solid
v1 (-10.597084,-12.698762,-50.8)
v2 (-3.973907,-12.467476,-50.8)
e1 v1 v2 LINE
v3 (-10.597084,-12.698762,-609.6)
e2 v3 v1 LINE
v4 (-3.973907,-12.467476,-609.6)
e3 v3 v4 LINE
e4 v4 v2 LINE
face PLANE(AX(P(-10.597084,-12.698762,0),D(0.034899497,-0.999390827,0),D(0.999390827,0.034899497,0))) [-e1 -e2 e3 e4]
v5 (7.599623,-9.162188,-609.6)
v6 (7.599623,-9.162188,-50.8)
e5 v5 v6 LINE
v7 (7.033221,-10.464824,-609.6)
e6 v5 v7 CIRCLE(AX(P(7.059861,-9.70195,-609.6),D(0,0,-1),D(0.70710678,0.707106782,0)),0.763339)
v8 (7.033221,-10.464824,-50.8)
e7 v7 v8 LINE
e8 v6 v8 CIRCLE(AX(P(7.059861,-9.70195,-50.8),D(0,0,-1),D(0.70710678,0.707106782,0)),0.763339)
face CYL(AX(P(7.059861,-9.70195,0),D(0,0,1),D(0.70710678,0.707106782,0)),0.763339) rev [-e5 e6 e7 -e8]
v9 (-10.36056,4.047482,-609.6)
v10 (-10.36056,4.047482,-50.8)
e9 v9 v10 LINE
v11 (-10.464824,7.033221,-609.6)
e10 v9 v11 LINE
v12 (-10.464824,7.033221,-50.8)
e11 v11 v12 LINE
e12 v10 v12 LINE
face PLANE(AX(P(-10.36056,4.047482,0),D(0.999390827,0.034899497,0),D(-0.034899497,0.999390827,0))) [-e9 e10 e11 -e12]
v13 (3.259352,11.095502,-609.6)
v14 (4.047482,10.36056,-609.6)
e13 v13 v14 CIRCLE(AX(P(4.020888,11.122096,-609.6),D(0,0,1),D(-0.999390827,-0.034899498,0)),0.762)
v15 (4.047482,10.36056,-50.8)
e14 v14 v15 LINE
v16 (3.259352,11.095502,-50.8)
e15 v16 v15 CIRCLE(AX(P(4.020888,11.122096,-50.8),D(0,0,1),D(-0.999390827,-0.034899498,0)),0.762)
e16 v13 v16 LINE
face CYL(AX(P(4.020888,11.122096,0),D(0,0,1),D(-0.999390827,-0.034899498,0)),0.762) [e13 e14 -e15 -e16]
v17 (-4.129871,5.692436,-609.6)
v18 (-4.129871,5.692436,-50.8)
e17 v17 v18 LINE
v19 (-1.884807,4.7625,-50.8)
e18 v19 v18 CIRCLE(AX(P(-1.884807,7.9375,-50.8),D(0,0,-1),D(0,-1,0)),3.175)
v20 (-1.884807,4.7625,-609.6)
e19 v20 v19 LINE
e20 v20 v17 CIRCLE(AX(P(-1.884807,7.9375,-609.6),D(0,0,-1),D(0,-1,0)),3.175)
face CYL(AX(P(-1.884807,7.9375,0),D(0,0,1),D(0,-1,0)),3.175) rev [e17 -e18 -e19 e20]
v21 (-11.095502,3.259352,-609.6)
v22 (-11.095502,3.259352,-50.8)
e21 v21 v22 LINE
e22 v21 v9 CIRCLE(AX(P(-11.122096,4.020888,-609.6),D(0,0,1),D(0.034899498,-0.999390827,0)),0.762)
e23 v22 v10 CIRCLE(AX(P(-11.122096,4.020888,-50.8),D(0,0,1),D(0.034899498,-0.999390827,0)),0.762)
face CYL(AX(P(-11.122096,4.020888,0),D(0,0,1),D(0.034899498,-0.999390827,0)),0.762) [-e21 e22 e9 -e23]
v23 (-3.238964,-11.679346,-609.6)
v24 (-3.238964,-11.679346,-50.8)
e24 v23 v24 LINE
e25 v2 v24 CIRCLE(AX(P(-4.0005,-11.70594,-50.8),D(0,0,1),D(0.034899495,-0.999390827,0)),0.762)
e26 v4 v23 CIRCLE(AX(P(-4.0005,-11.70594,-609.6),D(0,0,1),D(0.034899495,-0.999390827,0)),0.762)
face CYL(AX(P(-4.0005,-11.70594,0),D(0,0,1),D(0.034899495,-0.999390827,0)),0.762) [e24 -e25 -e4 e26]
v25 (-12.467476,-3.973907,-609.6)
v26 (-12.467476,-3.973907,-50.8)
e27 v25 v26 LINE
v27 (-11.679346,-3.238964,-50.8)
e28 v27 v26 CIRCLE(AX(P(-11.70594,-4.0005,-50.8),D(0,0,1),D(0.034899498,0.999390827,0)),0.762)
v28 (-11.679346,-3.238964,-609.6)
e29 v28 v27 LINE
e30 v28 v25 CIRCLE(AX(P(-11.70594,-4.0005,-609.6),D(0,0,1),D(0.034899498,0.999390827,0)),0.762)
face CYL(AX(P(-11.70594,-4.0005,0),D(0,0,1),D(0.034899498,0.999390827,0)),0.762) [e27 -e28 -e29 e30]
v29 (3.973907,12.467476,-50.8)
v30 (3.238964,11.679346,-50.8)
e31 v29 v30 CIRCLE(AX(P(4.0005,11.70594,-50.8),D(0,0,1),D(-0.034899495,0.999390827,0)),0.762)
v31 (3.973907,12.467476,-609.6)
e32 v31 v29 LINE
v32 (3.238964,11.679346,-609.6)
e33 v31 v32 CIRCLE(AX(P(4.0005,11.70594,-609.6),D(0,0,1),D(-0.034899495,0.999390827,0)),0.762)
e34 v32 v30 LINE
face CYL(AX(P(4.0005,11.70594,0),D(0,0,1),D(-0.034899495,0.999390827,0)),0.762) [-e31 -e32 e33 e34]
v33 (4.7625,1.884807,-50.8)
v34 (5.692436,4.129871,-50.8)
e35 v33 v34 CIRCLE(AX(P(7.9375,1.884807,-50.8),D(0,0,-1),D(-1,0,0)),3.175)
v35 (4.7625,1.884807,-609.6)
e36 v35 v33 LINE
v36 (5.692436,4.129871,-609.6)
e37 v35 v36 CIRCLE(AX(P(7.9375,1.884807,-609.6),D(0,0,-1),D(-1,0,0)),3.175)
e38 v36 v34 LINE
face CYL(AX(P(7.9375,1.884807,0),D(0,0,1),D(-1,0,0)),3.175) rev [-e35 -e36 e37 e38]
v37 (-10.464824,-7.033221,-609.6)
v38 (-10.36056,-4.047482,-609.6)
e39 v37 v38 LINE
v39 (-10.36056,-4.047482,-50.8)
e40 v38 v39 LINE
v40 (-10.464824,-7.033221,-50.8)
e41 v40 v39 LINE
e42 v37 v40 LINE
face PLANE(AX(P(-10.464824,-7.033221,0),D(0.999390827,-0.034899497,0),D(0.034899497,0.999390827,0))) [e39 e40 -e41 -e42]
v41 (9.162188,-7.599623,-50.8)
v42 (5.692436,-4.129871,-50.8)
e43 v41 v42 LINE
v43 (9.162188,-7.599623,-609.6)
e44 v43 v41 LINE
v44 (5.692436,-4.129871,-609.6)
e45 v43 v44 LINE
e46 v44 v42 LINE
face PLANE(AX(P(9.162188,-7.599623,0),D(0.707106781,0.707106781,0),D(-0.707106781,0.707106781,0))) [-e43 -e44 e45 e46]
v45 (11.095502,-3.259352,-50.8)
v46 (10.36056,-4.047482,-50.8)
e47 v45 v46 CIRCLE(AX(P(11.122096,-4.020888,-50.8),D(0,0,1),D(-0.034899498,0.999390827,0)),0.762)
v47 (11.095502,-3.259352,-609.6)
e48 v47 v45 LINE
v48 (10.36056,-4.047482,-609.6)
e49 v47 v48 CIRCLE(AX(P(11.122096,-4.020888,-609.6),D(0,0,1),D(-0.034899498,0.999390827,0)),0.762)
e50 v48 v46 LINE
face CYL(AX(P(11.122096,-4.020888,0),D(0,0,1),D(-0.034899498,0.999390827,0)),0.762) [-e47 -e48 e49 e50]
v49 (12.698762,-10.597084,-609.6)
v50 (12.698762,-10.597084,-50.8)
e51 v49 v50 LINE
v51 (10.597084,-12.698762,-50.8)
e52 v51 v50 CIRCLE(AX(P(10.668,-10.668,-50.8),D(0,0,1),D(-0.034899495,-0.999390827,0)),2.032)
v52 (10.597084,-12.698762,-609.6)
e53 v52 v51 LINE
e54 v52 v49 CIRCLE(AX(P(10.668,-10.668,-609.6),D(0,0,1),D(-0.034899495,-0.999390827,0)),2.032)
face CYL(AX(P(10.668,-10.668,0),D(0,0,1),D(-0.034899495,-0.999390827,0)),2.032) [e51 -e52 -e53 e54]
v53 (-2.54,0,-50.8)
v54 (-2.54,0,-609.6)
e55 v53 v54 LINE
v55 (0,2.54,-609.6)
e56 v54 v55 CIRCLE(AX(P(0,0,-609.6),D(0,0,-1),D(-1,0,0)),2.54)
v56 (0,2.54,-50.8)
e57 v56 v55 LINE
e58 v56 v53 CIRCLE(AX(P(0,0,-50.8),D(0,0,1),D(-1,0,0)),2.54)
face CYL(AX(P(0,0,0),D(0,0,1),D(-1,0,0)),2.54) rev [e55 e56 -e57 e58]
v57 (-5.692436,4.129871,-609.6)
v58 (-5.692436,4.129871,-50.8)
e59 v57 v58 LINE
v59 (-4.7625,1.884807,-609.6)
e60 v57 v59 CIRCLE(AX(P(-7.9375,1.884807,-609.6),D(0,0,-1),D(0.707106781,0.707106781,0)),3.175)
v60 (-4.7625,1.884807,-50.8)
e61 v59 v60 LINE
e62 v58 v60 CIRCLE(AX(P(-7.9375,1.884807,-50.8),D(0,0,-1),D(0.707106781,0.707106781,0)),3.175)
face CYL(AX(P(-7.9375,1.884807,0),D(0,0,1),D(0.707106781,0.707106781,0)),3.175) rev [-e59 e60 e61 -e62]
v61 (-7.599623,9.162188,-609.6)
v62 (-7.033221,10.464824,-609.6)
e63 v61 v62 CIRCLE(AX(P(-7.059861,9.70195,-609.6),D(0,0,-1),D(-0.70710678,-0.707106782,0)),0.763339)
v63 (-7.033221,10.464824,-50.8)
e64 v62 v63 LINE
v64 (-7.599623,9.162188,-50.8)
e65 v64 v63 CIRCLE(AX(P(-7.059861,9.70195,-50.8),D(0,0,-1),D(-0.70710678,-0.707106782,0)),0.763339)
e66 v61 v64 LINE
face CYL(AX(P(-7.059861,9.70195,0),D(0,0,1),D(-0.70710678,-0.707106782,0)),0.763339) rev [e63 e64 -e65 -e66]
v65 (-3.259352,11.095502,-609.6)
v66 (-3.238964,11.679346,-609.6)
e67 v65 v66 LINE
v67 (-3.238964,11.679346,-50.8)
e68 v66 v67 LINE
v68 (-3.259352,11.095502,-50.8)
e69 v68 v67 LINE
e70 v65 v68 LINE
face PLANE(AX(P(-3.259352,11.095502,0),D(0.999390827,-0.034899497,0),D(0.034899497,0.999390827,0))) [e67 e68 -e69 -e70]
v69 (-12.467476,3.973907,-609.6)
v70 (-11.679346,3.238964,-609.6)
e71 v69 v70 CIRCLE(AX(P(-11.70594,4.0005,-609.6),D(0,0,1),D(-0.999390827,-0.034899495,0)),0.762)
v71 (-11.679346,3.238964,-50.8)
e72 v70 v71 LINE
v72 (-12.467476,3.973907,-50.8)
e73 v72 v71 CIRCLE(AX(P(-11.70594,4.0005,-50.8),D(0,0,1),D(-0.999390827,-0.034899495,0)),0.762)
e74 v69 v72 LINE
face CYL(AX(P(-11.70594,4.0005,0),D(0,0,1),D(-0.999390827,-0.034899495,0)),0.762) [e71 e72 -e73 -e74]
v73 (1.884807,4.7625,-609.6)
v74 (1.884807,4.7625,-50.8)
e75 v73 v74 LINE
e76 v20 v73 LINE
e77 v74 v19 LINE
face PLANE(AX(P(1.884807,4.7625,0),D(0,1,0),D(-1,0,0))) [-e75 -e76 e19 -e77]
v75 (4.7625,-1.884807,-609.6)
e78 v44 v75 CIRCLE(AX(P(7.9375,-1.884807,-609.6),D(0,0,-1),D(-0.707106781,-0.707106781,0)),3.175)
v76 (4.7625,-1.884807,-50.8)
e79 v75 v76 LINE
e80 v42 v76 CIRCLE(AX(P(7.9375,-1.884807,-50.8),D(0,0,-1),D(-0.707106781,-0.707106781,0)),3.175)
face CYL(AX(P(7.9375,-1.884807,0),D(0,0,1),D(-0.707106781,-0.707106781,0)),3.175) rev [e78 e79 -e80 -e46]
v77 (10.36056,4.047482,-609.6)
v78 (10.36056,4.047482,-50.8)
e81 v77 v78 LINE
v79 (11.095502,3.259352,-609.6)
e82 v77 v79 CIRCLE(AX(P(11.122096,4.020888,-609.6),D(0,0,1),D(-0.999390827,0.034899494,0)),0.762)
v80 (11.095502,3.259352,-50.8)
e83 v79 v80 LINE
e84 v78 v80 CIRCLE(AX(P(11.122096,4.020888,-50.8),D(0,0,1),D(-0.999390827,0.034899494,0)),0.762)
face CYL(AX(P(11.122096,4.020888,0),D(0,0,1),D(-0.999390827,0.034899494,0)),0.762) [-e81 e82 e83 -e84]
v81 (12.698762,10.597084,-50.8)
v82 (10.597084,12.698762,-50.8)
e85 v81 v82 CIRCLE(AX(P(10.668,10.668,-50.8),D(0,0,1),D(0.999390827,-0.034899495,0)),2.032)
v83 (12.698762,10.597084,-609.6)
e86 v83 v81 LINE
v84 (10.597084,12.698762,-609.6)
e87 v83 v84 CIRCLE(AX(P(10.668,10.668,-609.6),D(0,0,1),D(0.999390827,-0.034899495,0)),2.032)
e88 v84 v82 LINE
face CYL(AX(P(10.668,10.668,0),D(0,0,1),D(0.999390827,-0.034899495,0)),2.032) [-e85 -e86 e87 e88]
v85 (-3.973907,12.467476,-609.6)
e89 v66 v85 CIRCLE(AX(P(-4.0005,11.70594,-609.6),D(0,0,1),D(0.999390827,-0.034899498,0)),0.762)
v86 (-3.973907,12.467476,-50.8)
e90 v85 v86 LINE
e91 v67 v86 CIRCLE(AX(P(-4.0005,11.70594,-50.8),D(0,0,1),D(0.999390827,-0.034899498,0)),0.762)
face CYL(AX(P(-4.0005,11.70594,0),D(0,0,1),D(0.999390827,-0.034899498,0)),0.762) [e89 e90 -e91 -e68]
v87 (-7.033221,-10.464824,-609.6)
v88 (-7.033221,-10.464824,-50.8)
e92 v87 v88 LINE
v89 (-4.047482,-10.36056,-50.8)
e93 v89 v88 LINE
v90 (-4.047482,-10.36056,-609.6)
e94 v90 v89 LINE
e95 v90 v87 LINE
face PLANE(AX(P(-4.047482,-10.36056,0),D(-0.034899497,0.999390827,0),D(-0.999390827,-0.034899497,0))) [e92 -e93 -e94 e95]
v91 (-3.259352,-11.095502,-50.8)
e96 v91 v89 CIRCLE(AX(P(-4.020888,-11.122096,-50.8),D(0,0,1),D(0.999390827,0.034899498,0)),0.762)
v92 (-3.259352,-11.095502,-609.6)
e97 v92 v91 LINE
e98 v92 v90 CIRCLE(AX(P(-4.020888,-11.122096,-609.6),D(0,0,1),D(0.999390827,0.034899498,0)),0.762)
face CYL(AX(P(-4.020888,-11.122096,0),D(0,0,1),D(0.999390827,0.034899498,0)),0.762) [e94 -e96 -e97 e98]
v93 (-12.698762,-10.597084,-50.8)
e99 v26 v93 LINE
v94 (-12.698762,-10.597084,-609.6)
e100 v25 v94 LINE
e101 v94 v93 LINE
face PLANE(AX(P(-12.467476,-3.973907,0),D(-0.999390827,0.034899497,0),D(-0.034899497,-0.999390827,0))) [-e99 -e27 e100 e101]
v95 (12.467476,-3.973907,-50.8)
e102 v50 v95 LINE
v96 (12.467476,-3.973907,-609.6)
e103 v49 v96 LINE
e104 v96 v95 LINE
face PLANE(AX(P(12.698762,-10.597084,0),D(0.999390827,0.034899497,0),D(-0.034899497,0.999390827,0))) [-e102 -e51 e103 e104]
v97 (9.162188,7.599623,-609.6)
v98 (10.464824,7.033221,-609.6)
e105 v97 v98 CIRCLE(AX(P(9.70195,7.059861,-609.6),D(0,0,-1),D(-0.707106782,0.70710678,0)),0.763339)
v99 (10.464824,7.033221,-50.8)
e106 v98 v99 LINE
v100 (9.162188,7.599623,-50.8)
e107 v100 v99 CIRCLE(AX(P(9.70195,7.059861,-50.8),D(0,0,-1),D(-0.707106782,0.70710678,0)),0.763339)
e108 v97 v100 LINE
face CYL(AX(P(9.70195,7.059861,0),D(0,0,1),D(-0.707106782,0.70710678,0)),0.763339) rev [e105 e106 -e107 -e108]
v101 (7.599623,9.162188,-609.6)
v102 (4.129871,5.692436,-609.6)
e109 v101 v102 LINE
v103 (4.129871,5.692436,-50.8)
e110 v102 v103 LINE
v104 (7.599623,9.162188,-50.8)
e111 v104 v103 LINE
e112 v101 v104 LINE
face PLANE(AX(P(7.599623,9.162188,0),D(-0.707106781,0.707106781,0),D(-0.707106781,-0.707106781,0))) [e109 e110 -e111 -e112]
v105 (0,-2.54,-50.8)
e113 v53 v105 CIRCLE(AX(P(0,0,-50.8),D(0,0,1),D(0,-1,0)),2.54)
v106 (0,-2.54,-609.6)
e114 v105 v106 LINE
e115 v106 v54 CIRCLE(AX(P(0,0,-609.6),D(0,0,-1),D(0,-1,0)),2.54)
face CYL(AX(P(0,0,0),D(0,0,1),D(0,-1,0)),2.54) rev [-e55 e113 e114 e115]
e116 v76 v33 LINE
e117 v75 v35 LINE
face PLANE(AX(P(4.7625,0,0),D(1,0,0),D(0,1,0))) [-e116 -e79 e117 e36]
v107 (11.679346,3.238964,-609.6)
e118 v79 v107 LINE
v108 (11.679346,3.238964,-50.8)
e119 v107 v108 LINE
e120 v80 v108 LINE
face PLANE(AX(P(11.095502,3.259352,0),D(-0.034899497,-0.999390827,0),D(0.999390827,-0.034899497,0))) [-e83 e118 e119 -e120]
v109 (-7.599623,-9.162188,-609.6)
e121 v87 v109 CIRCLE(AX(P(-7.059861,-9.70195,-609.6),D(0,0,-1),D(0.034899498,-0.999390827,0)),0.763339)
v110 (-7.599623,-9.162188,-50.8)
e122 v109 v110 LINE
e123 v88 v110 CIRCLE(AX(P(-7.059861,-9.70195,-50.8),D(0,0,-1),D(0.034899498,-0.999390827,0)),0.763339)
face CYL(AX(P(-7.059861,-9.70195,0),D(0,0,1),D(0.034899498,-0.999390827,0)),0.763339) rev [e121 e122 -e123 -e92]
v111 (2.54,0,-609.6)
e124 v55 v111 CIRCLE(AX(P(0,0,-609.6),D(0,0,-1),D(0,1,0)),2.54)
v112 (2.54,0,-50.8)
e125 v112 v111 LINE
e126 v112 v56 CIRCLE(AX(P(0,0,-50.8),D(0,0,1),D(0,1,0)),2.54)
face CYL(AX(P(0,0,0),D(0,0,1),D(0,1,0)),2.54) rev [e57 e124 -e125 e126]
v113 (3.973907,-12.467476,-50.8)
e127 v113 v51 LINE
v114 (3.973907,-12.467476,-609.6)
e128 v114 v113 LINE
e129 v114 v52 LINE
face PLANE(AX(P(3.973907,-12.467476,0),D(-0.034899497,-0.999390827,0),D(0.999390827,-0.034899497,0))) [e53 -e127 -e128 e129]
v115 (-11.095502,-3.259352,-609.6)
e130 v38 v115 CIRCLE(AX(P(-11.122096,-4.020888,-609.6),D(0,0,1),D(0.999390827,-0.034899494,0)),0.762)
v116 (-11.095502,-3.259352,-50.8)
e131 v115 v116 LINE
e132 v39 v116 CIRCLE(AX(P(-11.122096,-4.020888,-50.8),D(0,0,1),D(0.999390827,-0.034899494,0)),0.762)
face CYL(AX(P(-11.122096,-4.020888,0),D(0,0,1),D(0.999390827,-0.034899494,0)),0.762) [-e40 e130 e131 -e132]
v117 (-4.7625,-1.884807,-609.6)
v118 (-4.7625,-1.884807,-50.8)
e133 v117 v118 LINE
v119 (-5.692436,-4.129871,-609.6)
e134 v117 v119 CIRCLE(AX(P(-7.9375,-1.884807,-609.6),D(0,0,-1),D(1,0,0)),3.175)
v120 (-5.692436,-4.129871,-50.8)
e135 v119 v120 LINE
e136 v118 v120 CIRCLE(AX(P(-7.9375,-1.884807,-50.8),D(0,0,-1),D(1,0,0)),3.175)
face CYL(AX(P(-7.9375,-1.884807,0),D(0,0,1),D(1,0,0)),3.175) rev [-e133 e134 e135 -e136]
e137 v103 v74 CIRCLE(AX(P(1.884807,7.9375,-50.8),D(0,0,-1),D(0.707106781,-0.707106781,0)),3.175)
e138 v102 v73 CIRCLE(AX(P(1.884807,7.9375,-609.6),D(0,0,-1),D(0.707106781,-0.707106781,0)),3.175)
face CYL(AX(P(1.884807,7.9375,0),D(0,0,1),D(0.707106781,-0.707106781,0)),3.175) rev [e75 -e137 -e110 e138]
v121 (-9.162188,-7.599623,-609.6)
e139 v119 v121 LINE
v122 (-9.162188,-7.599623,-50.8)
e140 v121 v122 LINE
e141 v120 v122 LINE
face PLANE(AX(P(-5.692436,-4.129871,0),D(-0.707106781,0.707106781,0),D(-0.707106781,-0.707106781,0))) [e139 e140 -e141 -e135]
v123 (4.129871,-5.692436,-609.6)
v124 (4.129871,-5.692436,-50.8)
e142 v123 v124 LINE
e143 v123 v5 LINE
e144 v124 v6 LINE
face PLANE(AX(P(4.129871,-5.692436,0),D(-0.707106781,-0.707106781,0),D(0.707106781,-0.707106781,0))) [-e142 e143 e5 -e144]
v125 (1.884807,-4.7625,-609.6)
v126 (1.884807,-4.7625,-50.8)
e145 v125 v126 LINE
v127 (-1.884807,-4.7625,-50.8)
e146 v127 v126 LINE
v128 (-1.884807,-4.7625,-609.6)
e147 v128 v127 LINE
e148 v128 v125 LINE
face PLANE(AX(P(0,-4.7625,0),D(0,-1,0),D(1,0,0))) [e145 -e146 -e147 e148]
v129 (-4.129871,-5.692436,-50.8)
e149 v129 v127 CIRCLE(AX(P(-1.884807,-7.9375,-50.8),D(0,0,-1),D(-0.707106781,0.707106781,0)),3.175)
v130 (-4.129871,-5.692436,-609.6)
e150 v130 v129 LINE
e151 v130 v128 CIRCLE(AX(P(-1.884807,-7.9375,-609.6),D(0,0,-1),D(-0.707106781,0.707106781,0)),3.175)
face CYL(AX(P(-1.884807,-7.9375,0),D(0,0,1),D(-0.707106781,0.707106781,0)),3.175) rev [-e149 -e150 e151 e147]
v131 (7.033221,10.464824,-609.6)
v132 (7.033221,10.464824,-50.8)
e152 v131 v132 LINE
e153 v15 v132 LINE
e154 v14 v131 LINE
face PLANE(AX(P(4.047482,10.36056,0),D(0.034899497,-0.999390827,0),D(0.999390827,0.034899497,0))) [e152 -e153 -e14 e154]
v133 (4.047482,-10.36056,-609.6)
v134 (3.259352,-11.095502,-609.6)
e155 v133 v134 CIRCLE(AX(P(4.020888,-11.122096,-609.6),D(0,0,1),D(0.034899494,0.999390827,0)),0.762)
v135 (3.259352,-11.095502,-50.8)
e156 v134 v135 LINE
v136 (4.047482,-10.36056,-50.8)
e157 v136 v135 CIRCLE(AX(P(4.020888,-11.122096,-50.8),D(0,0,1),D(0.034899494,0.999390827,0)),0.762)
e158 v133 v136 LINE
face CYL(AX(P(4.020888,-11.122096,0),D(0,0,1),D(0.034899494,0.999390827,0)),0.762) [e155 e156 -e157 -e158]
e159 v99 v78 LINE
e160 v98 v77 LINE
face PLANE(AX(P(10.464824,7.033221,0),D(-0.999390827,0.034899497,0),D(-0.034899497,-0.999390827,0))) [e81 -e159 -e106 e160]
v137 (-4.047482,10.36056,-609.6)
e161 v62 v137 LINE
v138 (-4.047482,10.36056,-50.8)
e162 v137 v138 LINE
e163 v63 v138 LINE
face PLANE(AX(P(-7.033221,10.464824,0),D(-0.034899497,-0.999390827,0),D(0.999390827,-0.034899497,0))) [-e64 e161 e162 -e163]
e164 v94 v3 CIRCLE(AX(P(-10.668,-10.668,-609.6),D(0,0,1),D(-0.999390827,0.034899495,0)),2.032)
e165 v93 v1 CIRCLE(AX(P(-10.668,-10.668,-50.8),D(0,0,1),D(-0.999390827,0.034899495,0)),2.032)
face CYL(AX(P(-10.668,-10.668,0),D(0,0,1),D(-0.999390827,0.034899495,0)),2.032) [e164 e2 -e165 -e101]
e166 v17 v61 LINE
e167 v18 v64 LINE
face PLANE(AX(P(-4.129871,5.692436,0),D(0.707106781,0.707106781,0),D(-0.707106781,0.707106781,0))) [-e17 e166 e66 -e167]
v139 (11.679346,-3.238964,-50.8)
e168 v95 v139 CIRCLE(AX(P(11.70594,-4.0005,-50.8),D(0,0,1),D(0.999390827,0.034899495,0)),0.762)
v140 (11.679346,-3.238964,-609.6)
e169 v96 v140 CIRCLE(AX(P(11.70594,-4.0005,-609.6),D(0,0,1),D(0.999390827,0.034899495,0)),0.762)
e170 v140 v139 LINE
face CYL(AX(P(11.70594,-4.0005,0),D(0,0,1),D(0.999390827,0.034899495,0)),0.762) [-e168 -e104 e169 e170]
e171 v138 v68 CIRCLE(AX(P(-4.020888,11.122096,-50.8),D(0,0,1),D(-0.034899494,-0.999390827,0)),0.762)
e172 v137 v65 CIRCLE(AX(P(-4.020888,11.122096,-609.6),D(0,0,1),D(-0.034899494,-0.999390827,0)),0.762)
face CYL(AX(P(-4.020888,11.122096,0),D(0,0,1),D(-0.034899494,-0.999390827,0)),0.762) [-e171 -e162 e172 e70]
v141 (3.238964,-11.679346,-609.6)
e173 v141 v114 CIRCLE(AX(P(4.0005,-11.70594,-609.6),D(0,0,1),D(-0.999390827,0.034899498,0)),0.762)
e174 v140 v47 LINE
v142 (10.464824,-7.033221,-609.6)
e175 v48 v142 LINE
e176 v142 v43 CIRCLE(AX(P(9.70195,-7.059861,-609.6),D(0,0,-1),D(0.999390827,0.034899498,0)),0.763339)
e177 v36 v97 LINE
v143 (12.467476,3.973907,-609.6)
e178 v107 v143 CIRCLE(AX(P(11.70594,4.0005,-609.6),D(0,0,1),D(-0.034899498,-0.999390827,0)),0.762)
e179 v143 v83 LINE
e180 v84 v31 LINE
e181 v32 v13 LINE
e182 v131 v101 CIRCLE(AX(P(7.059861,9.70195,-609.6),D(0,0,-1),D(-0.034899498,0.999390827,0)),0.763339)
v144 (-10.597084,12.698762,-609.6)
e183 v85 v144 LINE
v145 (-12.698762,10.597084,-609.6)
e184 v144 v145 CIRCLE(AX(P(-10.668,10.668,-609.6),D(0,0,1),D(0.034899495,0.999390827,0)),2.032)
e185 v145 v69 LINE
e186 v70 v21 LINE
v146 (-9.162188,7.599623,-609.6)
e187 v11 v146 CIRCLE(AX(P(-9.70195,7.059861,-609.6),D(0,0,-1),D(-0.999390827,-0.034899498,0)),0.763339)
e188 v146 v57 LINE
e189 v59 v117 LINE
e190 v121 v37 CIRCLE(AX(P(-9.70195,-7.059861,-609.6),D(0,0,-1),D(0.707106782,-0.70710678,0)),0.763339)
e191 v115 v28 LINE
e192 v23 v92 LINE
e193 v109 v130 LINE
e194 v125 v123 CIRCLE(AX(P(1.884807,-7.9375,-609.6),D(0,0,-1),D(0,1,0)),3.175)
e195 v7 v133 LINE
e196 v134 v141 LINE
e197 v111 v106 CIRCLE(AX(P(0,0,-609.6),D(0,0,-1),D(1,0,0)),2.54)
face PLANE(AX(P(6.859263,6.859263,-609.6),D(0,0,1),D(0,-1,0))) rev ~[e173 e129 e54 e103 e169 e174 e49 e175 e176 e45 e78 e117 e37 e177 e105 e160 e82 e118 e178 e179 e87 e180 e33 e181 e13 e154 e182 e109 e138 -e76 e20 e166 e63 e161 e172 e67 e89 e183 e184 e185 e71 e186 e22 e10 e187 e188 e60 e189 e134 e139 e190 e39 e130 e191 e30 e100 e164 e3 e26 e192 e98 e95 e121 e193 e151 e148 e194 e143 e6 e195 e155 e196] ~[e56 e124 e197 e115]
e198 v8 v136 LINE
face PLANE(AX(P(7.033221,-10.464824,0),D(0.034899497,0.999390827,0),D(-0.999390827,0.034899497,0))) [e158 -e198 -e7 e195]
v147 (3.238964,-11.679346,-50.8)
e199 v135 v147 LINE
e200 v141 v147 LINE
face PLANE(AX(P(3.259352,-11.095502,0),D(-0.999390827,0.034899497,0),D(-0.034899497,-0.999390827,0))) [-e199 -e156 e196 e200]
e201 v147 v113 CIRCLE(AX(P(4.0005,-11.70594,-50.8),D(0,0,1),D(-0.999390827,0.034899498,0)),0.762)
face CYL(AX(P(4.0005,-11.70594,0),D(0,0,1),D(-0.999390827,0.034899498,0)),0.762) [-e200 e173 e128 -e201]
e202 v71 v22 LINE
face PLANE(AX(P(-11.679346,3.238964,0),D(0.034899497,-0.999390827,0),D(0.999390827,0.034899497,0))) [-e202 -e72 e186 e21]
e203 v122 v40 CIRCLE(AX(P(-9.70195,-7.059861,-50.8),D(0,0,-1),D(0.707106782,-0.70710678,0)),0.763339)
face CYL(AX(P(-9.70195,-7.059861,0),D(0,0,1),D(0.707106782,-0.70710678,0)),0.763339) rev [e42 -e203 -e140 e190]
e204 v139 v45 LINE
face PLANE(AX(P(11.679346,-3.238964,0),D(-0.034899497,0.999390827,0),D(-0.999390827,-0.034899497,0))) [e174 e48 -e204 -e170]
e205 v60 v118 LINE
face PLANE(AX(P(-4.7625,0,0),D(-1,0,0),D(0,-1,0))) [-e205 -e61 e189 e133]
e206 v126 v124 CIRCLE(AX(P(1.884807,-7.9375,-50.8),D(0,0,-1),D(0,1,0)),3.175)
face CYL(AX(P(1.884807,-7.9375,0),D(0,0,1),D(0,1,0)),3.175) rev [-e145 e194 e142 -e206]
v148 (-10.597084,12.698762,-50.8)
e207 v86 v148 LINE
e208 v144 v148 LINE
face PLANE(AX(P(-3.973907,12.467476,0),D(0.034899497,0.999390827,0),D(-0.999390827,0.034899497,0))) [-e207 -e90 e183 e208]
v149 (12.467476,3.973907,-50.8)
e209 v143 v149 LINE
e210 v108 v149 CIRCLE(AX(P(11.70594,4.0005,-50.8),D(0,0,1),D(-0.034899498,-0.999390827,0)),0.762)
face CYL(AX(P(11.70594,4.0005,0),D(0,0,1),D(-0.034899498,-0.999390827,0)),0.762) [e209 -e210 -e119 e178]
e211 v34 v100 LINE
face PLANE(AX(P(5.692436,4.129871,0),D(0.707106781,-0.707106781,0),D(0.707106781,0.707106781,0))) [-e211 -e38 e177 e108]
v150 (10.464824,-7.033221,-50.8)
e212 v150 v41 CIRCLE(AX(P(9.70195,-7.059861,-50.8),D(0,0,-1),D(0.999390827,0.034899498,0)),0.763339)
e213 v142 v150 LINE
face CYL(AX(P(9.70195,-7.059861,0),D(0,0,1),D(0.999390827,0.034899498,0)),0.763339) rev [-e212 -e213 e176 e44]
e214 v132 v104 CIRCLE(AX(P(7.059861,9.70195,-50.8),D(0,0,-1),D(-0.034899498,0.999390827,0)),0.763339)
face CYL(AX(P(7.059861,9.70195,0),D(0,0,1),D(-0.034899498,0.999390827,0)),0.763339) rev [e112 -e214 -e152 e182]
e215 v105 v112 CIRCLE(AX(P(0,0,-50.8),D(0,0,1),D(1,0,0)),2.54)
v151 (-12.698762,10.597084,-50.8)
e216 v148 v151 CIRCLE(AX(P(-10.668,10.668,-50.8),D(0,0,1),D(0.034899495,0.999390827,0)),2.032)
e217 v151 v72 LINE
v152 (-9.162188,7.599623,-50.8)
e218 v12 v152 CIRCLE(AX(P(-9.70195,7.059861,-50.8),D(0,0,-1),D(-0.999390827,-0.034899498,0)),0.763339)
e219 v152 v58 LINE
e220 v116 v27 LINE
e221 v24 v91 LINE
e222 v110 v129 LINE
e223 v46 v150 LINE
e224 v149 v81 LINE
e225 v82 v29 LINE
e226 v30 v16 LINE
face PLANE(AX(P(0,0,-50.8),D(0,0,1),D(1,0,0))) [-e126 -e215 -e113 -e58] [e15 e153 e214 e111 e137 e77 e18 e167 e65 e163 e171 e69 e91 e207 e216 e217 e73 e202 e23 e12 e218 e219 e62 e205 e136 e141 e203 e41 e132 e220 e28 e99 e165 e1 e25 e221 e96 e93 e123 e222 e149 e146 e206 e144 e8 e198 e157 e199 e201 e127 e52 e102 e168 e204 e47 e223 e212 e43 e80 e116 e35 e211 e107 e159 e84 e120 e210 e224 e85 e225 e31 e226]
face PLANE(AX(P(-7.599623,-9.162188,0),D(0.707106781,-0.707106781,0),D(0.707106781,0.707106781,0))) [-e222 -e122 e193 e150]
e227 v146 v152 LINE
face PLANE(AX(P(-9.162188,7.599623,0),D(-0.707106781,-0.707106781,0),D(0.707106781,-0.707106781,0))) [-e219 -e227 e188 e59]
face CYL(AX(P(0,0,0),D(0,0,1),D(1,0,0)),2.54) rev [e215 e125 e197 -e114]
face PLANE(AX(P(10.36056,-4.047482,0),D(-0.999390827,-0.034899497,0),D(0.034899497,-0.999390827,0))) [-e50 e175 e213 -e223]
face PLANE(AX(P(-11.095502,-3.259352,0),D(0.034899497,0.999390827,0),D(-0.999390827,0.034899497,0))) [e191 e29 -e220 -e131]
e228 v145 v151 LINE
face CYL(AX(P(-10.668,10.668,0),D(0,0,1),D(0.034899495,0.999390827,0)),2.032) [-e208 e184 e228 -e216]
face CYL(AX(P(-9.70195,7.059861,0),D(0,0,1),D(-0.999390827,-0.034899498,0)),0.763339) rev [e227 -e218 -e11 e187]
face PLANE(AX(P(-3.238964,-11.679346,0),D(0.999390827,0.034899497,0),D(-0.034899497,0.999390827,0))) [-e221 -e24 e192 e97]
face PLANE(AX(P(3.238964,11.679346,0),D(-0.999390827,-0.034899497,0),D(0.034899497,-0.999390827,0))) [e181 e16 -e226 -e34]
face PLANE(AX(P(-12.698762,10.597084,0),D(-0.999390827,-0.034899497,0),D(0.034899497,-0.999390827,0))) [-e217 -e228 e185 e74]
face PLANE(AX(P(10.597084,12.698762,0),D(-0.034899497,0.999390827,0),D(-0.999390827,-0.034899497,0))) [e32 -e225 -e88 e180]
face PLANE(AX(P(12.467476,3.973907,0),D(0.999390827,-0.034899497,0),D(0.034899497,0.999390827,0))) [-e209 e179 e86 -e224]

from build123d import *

# Parameters (mm, degrees)
BOSS_EXTRUDE1_DEPTH = 609.6
CIRPATTERN1_COUNT   = 4
CUT_EXTRUDE1_DEPTH  = 660.4


with BuildPart() as part:
    # Sketch3 → Boss-Extrude1 (new, symmetric)
    with BuildSketch(Plane.XY):
        with BuildLine():
            Line((0, 4.7625), (-1.884807374, 4.7625))
            ThreePointArc((-1.884807374, 4.7625), (-3.099827272, 5.004182484), (-4.129871405, 5.69243597))
            Line((-4.129871405, 5.69243597), (-7.599623114, 9.162187679))
            ThreePointArc((-7.599623114, 9.162187679), (-7.759888701, 10.006330839), (-7.033220609, 10.464824259))
            Line((-7.033220609, 10.464824259), (-4.047481702, 10.360559959))
            ThreePointArc((-4.047481702, 10.360559959), (-3.501205536, 10.564804249), (-3.259352476, 11.095502353))
            Line((-3.259352476, 11.095502353), (-3.23896419, 11.679346474))
            ThreePointArc((-3.23896419, 11.679346474), (-3.443208479, 12.225622641), (-3.973906584, 12.467475701))
            Line((-3.973906584, 12.467475701), (-10.597084223, 12.698762161))
            ThreePointArc((-10.597084223, 12.698762161), (-12.104840979, 12.104840979), (-12.698762161, 10.597084223))
            Line((-12.698762161, 10.597084223), (-12.467475701, 3.973906584))
            ThreePointArc((-12.467475701, 3.973906584), (-12.225622641, 3.443208479), (-11.679346474, 3.23896419))
            Line((-11.679346474, 3.23896419), (-11.095502353, 3.259352476))
            ThreePointArc((-11.095502353, 3.259352476), (-10.564804249, 3.501205536), (-10.360559959, 4.047481702))
            Line((-10.360559959, 4.047481702), (-10.464824259, 7.033220609))
            ThreePointArc((-10.464824259, 7.033220609), (-10.006330839, 7.759888701), (-9.162187679, 7.599623114))
            Line((-9.162187679, 7.599623114), (-5.69243597, 4.129871405))
            ThreePointArc((-5.69243597, 4.129871405), (-5.004182484, 3.099827272), (-4.7625, 1.884807374))
            Line((-4.7625, 1.884807374), (-4.7625, 0))
            Line((-4.7625, 0), (-2.54, 0))
            ThreePointArc((-2.54, 0), (-1.796051224, 1.796051224), (0, 2.54))
            Line((0, 2.54), (0, 4.7625))
        make_face()
    boss_extrude1 = extrude(amount=BOSS_EXTRUDE1_DEPTH, both=True)

    # CirPattern1: Boss-Extrude1 ×4 about axis
    cirpattern1_axis = Axis((0, 0, 0), (0, 0, 1))
    for i in range(1, CIRPATTERN1_COUNT):
        add(boss_extrude1.rotate(cirpattern1_axis, i * 360 / CIRPATTERN1_COUNT))

    # Sketch4 → Cut-Extrude1 (cut)
    with BuildSketch(Plane.XY.offset(609.6)):
        with BuildLine():
            Line((1.884807374, 4.7625), (-1.884807374, 4.7625))
            ThreePointArc((-1.884807374, 4.7625), (-3.099827272, 5.004182484), (-4.129871405, 5.69243597))
            Line((-4.129871405, 5.69243597), (-7.599623114, 9.162187679))
            ThreePointArc((-7.599623114, 9.162187679), (-7.759888701, 10.006330839), (-7.033220609, 10.464824259))
            Line((-7.033220609, 10.464824259), (-4.047481702, 10.360559959))
            ThreePointArc((-4.047481702, 10.360559959), (-3.501205536, 10.564804249), (-3.259352476, 11.095502353))
            Line((-3.259352476, 11.095502353), (-3.23896419, 11.679346474))
            ThreePointArc((-3.23896419, 11.679346474), (-3.443208479, 12.225622641), (-3.973906584, 12.467475701))
            Line((-3.973906584, 12.467475701), (-10.597084223, 12.698762161))
            ThreePointArc((-10.597084223, 12.698762161), (-12.104840979, 12.104840979), (-12.698762161, 10.597084223))
            Line((-12.698762161, 10.597084223), (-12.467475701, 3.973906584))
            ThreePointArc((-12.467475701, 3.973906584), (-12.225622641, 3.443208479), (-11.679346474, 3.23896419))
            Line((-11.679346474, 3.23896419), (-11.095502353, 3.259352476))
            ThreePointArc((-11.095502353, 3.259352476), (-10.564804249, 3.501205536), (-10.360559959, 4.047481702))
            Line((-10.360559959, 4.047481702), (-10.464824259, 7.033220609))
            ThreePointArc((-10.464824259, 7.033220609), (-10.006330839, 7.759888701), (-9.162187679, 7.599623114))
            Line((-9.162187679, 7.599623114), (-5.69243597, 4.129871405))
            ThreePointArc((-5.69243597, 4.129871405), (-5.004182484, 3.099827272), (-4.7625, 1.884807374))
            Line((-4.7625, 1.884807374), (-4.7625, -1.884807374))
            ThreePointArc((-4.7625, -1.884807374), (-5.004182484, -3.099827272), (-5.69243597, -4.129871405))
            Line((-5.69243597, -4.129871405), (-9.162187679, -7.599623114))
            ThreePointArc((-9.162187679, -7.599623114), (-10.006330839, -7.759888701), (-10.464824259, -7.033220609))
            Line((-10.464824259, -7.033220609), (-10.360559959, -4.047481702))
            ThreePointArc((-10.360559959, -4.047481702), (-10.564804249, -3.501205536), (-11.095502353, -3.259352476))
            Line((-11.095502353, -3.259352476), (-11.679346474, -3.23896419))
            ThreePointArc((-11.679346474, -3.23896419), (-12.225622641, -3.443208479), (-12.467475701, -3.973906584))
            Line((-12.467475701, -3.973906584), (-12.698762161, -10.597084223))
            ThreePointArc((-12.698762161, -10.597084223), (-12.104840979, -12.104840979), (-10.597084223, -12.698762161))
            Line((-10.597084223, -12.698762161), (-3.973906584, -12.467475701))
            ThreePointArc((-3.973906584, -12.467475701), (-3.443208479, -12.225622641), (-3.23896419, -11.679346474))
            Line((-3.23896419, -11.679346474), (-3.259352476, -11.095502353))
            ThreePointArc((-3.259352476, -11.095502353), (-3.501205536, -10.564804249), (-4.047481702, -10.360559959))
            Line((-4.047481702, -10.360559959), (-7.033220609, -10.464824259))
            ThreePointArc((-7.033220609, -10.464824259), (-7.759888701, -10.006330839), (-7.599623114, -9.162187679))
            Line((-7.599623114, -9.162187679), (-4.129871405, -5.69243597))
            ThreePointArc((-4.129871405, -5.69243597), (-3.099827272, -5.004182484), (-1.884807374, -4.7625))
            Line((-1.884807374, -4.7625), (1.884807374, -4.7625))
            ThreePointArc((1.884807374, -4.7625), (3.099827272, -5.004182484), (4.129871405, -5.69243597))
            Line((4.129871405, -5.69243597), (7.599623114, -9.162187679))
            ThreePointArc((7.599623114, -9.162187679), (7.759888701, -10.006330839), (7.033220609, -10.464824259))
            Line((7.033220609, -10.464824259), (4.047481702, -10.360559959))
            ThreePointArc((4.047481702, -10.360559959), (3.501205536, -10.564804249), (3.259352476, -11.095502353))
            Line((3.259352476, -11.095502353), (3.23896419, -11.679346474))
            ThreePointArc((3.23896419, -11.679346474), (3.443208479, -12.225622641), (3.973906584, -12.467475701))
            Line((3.973906584, -12.467475701), (10.597084223, -12.698762161))
            ThreePointArc((10.597084223, -12.698762161), (12.104840979, -12.104840979), (12.698762161, -10.597084223))
            Line((12.698762161, -10.597084223), (12.467475701, -3.973906584))
            ThreePointArc((12.467475701, -3.973906584), (12.225622641, -3.443208479), (11.679346474, -3.23896419))
            Line((11.679346474, -3.23896419), (11.095502353, -3.259352476))
            ThreePointArc((11.095502353, -3.259352476), (10.564804249, -3.501205536), (10.360559959, -4.047481702))
            Line((10.360559959, -4.047481702), (10.464824259, -7.033220609))
            ThreePointArc((10.464824259, -7.033220609), (10.006330839, -7.759888701), (9.162187679, -7.599623114))
            Line((9.162187679, -7.599623114), (5.69243597, -4.129871405))
            ThreePointArc((5.69243597, -4.129871405), (5.004182484, -3.099827272), (4.7625, -1.884807374))
            Line((4.7625, -1.884807374), (4.7625, 1.884807374))
            ThreePointArc((4.7625, 1.884807374), (5.004182484, 3.099827272), (5.69243597, 4.129871405))
            Line((5.69243597, 4.129871405), (9.162187679, 7.599623114))
            ThreePointArc((9.162187679, 7.599623114), (10.006330839, 7.759888701), (10.464824259, 7.033220609))
            Line((10.464824259, 7.033220609), (10.360559959, 4.047481702))
            ThreePointArc((10.360559959, 4.047481702), (10.564804249, 3.501205536), (11.095502353, 3.259352476))
            Line((11.095502353, 3.259352476), (11.679346474, 3.23896419))
            ThreePointArc((11.679346474, 3.23896419), (12.225622641, 3.443208479), (12.467475701, 3.973906584))
            Line((12.467475701, 3.973906584), (12.698762161, 10.597084223))
            ThreePointArc((12.698762161, 10.597084223), (12.104840979, 12.104840979), (10.597084223, 12.698762161))
            Line((10.597084223, 12.698762161), (3.973906584, 12.467475701))
            ThreePointArc((3.973906584, 12.467475701), (3.443208479, 12.225622641), (3.23896419, 11.679346474))
            Line((3.23896419, 11.679346474), (3.259352476, 11.095502353))
            ThreePointArc((3.259352476, 11.095502353), (3.501205536, 10.564804249), (4.047481702, 10.360559959))
            Line((4.047481702, 10.360559959), (7.033220609, 10.464824259))
            ThreePointArc((7.033220609, 10.464824259), (7.759888701, 10.006330839), (7.599623114, 9.162187679))
            Line((7.599623114, 9.162187679), (4.129871405, 5.69243597))
            ThreePointArc((4.129871405, 5.69243597), (3.099827272, 5.004182484), (1.884807374, 4.7625))
        make_face()
    extrude(amount=-CUT_EXTRUDE1_DEPTH, mode=Mode.SUBTRACT)


solid = part.part
